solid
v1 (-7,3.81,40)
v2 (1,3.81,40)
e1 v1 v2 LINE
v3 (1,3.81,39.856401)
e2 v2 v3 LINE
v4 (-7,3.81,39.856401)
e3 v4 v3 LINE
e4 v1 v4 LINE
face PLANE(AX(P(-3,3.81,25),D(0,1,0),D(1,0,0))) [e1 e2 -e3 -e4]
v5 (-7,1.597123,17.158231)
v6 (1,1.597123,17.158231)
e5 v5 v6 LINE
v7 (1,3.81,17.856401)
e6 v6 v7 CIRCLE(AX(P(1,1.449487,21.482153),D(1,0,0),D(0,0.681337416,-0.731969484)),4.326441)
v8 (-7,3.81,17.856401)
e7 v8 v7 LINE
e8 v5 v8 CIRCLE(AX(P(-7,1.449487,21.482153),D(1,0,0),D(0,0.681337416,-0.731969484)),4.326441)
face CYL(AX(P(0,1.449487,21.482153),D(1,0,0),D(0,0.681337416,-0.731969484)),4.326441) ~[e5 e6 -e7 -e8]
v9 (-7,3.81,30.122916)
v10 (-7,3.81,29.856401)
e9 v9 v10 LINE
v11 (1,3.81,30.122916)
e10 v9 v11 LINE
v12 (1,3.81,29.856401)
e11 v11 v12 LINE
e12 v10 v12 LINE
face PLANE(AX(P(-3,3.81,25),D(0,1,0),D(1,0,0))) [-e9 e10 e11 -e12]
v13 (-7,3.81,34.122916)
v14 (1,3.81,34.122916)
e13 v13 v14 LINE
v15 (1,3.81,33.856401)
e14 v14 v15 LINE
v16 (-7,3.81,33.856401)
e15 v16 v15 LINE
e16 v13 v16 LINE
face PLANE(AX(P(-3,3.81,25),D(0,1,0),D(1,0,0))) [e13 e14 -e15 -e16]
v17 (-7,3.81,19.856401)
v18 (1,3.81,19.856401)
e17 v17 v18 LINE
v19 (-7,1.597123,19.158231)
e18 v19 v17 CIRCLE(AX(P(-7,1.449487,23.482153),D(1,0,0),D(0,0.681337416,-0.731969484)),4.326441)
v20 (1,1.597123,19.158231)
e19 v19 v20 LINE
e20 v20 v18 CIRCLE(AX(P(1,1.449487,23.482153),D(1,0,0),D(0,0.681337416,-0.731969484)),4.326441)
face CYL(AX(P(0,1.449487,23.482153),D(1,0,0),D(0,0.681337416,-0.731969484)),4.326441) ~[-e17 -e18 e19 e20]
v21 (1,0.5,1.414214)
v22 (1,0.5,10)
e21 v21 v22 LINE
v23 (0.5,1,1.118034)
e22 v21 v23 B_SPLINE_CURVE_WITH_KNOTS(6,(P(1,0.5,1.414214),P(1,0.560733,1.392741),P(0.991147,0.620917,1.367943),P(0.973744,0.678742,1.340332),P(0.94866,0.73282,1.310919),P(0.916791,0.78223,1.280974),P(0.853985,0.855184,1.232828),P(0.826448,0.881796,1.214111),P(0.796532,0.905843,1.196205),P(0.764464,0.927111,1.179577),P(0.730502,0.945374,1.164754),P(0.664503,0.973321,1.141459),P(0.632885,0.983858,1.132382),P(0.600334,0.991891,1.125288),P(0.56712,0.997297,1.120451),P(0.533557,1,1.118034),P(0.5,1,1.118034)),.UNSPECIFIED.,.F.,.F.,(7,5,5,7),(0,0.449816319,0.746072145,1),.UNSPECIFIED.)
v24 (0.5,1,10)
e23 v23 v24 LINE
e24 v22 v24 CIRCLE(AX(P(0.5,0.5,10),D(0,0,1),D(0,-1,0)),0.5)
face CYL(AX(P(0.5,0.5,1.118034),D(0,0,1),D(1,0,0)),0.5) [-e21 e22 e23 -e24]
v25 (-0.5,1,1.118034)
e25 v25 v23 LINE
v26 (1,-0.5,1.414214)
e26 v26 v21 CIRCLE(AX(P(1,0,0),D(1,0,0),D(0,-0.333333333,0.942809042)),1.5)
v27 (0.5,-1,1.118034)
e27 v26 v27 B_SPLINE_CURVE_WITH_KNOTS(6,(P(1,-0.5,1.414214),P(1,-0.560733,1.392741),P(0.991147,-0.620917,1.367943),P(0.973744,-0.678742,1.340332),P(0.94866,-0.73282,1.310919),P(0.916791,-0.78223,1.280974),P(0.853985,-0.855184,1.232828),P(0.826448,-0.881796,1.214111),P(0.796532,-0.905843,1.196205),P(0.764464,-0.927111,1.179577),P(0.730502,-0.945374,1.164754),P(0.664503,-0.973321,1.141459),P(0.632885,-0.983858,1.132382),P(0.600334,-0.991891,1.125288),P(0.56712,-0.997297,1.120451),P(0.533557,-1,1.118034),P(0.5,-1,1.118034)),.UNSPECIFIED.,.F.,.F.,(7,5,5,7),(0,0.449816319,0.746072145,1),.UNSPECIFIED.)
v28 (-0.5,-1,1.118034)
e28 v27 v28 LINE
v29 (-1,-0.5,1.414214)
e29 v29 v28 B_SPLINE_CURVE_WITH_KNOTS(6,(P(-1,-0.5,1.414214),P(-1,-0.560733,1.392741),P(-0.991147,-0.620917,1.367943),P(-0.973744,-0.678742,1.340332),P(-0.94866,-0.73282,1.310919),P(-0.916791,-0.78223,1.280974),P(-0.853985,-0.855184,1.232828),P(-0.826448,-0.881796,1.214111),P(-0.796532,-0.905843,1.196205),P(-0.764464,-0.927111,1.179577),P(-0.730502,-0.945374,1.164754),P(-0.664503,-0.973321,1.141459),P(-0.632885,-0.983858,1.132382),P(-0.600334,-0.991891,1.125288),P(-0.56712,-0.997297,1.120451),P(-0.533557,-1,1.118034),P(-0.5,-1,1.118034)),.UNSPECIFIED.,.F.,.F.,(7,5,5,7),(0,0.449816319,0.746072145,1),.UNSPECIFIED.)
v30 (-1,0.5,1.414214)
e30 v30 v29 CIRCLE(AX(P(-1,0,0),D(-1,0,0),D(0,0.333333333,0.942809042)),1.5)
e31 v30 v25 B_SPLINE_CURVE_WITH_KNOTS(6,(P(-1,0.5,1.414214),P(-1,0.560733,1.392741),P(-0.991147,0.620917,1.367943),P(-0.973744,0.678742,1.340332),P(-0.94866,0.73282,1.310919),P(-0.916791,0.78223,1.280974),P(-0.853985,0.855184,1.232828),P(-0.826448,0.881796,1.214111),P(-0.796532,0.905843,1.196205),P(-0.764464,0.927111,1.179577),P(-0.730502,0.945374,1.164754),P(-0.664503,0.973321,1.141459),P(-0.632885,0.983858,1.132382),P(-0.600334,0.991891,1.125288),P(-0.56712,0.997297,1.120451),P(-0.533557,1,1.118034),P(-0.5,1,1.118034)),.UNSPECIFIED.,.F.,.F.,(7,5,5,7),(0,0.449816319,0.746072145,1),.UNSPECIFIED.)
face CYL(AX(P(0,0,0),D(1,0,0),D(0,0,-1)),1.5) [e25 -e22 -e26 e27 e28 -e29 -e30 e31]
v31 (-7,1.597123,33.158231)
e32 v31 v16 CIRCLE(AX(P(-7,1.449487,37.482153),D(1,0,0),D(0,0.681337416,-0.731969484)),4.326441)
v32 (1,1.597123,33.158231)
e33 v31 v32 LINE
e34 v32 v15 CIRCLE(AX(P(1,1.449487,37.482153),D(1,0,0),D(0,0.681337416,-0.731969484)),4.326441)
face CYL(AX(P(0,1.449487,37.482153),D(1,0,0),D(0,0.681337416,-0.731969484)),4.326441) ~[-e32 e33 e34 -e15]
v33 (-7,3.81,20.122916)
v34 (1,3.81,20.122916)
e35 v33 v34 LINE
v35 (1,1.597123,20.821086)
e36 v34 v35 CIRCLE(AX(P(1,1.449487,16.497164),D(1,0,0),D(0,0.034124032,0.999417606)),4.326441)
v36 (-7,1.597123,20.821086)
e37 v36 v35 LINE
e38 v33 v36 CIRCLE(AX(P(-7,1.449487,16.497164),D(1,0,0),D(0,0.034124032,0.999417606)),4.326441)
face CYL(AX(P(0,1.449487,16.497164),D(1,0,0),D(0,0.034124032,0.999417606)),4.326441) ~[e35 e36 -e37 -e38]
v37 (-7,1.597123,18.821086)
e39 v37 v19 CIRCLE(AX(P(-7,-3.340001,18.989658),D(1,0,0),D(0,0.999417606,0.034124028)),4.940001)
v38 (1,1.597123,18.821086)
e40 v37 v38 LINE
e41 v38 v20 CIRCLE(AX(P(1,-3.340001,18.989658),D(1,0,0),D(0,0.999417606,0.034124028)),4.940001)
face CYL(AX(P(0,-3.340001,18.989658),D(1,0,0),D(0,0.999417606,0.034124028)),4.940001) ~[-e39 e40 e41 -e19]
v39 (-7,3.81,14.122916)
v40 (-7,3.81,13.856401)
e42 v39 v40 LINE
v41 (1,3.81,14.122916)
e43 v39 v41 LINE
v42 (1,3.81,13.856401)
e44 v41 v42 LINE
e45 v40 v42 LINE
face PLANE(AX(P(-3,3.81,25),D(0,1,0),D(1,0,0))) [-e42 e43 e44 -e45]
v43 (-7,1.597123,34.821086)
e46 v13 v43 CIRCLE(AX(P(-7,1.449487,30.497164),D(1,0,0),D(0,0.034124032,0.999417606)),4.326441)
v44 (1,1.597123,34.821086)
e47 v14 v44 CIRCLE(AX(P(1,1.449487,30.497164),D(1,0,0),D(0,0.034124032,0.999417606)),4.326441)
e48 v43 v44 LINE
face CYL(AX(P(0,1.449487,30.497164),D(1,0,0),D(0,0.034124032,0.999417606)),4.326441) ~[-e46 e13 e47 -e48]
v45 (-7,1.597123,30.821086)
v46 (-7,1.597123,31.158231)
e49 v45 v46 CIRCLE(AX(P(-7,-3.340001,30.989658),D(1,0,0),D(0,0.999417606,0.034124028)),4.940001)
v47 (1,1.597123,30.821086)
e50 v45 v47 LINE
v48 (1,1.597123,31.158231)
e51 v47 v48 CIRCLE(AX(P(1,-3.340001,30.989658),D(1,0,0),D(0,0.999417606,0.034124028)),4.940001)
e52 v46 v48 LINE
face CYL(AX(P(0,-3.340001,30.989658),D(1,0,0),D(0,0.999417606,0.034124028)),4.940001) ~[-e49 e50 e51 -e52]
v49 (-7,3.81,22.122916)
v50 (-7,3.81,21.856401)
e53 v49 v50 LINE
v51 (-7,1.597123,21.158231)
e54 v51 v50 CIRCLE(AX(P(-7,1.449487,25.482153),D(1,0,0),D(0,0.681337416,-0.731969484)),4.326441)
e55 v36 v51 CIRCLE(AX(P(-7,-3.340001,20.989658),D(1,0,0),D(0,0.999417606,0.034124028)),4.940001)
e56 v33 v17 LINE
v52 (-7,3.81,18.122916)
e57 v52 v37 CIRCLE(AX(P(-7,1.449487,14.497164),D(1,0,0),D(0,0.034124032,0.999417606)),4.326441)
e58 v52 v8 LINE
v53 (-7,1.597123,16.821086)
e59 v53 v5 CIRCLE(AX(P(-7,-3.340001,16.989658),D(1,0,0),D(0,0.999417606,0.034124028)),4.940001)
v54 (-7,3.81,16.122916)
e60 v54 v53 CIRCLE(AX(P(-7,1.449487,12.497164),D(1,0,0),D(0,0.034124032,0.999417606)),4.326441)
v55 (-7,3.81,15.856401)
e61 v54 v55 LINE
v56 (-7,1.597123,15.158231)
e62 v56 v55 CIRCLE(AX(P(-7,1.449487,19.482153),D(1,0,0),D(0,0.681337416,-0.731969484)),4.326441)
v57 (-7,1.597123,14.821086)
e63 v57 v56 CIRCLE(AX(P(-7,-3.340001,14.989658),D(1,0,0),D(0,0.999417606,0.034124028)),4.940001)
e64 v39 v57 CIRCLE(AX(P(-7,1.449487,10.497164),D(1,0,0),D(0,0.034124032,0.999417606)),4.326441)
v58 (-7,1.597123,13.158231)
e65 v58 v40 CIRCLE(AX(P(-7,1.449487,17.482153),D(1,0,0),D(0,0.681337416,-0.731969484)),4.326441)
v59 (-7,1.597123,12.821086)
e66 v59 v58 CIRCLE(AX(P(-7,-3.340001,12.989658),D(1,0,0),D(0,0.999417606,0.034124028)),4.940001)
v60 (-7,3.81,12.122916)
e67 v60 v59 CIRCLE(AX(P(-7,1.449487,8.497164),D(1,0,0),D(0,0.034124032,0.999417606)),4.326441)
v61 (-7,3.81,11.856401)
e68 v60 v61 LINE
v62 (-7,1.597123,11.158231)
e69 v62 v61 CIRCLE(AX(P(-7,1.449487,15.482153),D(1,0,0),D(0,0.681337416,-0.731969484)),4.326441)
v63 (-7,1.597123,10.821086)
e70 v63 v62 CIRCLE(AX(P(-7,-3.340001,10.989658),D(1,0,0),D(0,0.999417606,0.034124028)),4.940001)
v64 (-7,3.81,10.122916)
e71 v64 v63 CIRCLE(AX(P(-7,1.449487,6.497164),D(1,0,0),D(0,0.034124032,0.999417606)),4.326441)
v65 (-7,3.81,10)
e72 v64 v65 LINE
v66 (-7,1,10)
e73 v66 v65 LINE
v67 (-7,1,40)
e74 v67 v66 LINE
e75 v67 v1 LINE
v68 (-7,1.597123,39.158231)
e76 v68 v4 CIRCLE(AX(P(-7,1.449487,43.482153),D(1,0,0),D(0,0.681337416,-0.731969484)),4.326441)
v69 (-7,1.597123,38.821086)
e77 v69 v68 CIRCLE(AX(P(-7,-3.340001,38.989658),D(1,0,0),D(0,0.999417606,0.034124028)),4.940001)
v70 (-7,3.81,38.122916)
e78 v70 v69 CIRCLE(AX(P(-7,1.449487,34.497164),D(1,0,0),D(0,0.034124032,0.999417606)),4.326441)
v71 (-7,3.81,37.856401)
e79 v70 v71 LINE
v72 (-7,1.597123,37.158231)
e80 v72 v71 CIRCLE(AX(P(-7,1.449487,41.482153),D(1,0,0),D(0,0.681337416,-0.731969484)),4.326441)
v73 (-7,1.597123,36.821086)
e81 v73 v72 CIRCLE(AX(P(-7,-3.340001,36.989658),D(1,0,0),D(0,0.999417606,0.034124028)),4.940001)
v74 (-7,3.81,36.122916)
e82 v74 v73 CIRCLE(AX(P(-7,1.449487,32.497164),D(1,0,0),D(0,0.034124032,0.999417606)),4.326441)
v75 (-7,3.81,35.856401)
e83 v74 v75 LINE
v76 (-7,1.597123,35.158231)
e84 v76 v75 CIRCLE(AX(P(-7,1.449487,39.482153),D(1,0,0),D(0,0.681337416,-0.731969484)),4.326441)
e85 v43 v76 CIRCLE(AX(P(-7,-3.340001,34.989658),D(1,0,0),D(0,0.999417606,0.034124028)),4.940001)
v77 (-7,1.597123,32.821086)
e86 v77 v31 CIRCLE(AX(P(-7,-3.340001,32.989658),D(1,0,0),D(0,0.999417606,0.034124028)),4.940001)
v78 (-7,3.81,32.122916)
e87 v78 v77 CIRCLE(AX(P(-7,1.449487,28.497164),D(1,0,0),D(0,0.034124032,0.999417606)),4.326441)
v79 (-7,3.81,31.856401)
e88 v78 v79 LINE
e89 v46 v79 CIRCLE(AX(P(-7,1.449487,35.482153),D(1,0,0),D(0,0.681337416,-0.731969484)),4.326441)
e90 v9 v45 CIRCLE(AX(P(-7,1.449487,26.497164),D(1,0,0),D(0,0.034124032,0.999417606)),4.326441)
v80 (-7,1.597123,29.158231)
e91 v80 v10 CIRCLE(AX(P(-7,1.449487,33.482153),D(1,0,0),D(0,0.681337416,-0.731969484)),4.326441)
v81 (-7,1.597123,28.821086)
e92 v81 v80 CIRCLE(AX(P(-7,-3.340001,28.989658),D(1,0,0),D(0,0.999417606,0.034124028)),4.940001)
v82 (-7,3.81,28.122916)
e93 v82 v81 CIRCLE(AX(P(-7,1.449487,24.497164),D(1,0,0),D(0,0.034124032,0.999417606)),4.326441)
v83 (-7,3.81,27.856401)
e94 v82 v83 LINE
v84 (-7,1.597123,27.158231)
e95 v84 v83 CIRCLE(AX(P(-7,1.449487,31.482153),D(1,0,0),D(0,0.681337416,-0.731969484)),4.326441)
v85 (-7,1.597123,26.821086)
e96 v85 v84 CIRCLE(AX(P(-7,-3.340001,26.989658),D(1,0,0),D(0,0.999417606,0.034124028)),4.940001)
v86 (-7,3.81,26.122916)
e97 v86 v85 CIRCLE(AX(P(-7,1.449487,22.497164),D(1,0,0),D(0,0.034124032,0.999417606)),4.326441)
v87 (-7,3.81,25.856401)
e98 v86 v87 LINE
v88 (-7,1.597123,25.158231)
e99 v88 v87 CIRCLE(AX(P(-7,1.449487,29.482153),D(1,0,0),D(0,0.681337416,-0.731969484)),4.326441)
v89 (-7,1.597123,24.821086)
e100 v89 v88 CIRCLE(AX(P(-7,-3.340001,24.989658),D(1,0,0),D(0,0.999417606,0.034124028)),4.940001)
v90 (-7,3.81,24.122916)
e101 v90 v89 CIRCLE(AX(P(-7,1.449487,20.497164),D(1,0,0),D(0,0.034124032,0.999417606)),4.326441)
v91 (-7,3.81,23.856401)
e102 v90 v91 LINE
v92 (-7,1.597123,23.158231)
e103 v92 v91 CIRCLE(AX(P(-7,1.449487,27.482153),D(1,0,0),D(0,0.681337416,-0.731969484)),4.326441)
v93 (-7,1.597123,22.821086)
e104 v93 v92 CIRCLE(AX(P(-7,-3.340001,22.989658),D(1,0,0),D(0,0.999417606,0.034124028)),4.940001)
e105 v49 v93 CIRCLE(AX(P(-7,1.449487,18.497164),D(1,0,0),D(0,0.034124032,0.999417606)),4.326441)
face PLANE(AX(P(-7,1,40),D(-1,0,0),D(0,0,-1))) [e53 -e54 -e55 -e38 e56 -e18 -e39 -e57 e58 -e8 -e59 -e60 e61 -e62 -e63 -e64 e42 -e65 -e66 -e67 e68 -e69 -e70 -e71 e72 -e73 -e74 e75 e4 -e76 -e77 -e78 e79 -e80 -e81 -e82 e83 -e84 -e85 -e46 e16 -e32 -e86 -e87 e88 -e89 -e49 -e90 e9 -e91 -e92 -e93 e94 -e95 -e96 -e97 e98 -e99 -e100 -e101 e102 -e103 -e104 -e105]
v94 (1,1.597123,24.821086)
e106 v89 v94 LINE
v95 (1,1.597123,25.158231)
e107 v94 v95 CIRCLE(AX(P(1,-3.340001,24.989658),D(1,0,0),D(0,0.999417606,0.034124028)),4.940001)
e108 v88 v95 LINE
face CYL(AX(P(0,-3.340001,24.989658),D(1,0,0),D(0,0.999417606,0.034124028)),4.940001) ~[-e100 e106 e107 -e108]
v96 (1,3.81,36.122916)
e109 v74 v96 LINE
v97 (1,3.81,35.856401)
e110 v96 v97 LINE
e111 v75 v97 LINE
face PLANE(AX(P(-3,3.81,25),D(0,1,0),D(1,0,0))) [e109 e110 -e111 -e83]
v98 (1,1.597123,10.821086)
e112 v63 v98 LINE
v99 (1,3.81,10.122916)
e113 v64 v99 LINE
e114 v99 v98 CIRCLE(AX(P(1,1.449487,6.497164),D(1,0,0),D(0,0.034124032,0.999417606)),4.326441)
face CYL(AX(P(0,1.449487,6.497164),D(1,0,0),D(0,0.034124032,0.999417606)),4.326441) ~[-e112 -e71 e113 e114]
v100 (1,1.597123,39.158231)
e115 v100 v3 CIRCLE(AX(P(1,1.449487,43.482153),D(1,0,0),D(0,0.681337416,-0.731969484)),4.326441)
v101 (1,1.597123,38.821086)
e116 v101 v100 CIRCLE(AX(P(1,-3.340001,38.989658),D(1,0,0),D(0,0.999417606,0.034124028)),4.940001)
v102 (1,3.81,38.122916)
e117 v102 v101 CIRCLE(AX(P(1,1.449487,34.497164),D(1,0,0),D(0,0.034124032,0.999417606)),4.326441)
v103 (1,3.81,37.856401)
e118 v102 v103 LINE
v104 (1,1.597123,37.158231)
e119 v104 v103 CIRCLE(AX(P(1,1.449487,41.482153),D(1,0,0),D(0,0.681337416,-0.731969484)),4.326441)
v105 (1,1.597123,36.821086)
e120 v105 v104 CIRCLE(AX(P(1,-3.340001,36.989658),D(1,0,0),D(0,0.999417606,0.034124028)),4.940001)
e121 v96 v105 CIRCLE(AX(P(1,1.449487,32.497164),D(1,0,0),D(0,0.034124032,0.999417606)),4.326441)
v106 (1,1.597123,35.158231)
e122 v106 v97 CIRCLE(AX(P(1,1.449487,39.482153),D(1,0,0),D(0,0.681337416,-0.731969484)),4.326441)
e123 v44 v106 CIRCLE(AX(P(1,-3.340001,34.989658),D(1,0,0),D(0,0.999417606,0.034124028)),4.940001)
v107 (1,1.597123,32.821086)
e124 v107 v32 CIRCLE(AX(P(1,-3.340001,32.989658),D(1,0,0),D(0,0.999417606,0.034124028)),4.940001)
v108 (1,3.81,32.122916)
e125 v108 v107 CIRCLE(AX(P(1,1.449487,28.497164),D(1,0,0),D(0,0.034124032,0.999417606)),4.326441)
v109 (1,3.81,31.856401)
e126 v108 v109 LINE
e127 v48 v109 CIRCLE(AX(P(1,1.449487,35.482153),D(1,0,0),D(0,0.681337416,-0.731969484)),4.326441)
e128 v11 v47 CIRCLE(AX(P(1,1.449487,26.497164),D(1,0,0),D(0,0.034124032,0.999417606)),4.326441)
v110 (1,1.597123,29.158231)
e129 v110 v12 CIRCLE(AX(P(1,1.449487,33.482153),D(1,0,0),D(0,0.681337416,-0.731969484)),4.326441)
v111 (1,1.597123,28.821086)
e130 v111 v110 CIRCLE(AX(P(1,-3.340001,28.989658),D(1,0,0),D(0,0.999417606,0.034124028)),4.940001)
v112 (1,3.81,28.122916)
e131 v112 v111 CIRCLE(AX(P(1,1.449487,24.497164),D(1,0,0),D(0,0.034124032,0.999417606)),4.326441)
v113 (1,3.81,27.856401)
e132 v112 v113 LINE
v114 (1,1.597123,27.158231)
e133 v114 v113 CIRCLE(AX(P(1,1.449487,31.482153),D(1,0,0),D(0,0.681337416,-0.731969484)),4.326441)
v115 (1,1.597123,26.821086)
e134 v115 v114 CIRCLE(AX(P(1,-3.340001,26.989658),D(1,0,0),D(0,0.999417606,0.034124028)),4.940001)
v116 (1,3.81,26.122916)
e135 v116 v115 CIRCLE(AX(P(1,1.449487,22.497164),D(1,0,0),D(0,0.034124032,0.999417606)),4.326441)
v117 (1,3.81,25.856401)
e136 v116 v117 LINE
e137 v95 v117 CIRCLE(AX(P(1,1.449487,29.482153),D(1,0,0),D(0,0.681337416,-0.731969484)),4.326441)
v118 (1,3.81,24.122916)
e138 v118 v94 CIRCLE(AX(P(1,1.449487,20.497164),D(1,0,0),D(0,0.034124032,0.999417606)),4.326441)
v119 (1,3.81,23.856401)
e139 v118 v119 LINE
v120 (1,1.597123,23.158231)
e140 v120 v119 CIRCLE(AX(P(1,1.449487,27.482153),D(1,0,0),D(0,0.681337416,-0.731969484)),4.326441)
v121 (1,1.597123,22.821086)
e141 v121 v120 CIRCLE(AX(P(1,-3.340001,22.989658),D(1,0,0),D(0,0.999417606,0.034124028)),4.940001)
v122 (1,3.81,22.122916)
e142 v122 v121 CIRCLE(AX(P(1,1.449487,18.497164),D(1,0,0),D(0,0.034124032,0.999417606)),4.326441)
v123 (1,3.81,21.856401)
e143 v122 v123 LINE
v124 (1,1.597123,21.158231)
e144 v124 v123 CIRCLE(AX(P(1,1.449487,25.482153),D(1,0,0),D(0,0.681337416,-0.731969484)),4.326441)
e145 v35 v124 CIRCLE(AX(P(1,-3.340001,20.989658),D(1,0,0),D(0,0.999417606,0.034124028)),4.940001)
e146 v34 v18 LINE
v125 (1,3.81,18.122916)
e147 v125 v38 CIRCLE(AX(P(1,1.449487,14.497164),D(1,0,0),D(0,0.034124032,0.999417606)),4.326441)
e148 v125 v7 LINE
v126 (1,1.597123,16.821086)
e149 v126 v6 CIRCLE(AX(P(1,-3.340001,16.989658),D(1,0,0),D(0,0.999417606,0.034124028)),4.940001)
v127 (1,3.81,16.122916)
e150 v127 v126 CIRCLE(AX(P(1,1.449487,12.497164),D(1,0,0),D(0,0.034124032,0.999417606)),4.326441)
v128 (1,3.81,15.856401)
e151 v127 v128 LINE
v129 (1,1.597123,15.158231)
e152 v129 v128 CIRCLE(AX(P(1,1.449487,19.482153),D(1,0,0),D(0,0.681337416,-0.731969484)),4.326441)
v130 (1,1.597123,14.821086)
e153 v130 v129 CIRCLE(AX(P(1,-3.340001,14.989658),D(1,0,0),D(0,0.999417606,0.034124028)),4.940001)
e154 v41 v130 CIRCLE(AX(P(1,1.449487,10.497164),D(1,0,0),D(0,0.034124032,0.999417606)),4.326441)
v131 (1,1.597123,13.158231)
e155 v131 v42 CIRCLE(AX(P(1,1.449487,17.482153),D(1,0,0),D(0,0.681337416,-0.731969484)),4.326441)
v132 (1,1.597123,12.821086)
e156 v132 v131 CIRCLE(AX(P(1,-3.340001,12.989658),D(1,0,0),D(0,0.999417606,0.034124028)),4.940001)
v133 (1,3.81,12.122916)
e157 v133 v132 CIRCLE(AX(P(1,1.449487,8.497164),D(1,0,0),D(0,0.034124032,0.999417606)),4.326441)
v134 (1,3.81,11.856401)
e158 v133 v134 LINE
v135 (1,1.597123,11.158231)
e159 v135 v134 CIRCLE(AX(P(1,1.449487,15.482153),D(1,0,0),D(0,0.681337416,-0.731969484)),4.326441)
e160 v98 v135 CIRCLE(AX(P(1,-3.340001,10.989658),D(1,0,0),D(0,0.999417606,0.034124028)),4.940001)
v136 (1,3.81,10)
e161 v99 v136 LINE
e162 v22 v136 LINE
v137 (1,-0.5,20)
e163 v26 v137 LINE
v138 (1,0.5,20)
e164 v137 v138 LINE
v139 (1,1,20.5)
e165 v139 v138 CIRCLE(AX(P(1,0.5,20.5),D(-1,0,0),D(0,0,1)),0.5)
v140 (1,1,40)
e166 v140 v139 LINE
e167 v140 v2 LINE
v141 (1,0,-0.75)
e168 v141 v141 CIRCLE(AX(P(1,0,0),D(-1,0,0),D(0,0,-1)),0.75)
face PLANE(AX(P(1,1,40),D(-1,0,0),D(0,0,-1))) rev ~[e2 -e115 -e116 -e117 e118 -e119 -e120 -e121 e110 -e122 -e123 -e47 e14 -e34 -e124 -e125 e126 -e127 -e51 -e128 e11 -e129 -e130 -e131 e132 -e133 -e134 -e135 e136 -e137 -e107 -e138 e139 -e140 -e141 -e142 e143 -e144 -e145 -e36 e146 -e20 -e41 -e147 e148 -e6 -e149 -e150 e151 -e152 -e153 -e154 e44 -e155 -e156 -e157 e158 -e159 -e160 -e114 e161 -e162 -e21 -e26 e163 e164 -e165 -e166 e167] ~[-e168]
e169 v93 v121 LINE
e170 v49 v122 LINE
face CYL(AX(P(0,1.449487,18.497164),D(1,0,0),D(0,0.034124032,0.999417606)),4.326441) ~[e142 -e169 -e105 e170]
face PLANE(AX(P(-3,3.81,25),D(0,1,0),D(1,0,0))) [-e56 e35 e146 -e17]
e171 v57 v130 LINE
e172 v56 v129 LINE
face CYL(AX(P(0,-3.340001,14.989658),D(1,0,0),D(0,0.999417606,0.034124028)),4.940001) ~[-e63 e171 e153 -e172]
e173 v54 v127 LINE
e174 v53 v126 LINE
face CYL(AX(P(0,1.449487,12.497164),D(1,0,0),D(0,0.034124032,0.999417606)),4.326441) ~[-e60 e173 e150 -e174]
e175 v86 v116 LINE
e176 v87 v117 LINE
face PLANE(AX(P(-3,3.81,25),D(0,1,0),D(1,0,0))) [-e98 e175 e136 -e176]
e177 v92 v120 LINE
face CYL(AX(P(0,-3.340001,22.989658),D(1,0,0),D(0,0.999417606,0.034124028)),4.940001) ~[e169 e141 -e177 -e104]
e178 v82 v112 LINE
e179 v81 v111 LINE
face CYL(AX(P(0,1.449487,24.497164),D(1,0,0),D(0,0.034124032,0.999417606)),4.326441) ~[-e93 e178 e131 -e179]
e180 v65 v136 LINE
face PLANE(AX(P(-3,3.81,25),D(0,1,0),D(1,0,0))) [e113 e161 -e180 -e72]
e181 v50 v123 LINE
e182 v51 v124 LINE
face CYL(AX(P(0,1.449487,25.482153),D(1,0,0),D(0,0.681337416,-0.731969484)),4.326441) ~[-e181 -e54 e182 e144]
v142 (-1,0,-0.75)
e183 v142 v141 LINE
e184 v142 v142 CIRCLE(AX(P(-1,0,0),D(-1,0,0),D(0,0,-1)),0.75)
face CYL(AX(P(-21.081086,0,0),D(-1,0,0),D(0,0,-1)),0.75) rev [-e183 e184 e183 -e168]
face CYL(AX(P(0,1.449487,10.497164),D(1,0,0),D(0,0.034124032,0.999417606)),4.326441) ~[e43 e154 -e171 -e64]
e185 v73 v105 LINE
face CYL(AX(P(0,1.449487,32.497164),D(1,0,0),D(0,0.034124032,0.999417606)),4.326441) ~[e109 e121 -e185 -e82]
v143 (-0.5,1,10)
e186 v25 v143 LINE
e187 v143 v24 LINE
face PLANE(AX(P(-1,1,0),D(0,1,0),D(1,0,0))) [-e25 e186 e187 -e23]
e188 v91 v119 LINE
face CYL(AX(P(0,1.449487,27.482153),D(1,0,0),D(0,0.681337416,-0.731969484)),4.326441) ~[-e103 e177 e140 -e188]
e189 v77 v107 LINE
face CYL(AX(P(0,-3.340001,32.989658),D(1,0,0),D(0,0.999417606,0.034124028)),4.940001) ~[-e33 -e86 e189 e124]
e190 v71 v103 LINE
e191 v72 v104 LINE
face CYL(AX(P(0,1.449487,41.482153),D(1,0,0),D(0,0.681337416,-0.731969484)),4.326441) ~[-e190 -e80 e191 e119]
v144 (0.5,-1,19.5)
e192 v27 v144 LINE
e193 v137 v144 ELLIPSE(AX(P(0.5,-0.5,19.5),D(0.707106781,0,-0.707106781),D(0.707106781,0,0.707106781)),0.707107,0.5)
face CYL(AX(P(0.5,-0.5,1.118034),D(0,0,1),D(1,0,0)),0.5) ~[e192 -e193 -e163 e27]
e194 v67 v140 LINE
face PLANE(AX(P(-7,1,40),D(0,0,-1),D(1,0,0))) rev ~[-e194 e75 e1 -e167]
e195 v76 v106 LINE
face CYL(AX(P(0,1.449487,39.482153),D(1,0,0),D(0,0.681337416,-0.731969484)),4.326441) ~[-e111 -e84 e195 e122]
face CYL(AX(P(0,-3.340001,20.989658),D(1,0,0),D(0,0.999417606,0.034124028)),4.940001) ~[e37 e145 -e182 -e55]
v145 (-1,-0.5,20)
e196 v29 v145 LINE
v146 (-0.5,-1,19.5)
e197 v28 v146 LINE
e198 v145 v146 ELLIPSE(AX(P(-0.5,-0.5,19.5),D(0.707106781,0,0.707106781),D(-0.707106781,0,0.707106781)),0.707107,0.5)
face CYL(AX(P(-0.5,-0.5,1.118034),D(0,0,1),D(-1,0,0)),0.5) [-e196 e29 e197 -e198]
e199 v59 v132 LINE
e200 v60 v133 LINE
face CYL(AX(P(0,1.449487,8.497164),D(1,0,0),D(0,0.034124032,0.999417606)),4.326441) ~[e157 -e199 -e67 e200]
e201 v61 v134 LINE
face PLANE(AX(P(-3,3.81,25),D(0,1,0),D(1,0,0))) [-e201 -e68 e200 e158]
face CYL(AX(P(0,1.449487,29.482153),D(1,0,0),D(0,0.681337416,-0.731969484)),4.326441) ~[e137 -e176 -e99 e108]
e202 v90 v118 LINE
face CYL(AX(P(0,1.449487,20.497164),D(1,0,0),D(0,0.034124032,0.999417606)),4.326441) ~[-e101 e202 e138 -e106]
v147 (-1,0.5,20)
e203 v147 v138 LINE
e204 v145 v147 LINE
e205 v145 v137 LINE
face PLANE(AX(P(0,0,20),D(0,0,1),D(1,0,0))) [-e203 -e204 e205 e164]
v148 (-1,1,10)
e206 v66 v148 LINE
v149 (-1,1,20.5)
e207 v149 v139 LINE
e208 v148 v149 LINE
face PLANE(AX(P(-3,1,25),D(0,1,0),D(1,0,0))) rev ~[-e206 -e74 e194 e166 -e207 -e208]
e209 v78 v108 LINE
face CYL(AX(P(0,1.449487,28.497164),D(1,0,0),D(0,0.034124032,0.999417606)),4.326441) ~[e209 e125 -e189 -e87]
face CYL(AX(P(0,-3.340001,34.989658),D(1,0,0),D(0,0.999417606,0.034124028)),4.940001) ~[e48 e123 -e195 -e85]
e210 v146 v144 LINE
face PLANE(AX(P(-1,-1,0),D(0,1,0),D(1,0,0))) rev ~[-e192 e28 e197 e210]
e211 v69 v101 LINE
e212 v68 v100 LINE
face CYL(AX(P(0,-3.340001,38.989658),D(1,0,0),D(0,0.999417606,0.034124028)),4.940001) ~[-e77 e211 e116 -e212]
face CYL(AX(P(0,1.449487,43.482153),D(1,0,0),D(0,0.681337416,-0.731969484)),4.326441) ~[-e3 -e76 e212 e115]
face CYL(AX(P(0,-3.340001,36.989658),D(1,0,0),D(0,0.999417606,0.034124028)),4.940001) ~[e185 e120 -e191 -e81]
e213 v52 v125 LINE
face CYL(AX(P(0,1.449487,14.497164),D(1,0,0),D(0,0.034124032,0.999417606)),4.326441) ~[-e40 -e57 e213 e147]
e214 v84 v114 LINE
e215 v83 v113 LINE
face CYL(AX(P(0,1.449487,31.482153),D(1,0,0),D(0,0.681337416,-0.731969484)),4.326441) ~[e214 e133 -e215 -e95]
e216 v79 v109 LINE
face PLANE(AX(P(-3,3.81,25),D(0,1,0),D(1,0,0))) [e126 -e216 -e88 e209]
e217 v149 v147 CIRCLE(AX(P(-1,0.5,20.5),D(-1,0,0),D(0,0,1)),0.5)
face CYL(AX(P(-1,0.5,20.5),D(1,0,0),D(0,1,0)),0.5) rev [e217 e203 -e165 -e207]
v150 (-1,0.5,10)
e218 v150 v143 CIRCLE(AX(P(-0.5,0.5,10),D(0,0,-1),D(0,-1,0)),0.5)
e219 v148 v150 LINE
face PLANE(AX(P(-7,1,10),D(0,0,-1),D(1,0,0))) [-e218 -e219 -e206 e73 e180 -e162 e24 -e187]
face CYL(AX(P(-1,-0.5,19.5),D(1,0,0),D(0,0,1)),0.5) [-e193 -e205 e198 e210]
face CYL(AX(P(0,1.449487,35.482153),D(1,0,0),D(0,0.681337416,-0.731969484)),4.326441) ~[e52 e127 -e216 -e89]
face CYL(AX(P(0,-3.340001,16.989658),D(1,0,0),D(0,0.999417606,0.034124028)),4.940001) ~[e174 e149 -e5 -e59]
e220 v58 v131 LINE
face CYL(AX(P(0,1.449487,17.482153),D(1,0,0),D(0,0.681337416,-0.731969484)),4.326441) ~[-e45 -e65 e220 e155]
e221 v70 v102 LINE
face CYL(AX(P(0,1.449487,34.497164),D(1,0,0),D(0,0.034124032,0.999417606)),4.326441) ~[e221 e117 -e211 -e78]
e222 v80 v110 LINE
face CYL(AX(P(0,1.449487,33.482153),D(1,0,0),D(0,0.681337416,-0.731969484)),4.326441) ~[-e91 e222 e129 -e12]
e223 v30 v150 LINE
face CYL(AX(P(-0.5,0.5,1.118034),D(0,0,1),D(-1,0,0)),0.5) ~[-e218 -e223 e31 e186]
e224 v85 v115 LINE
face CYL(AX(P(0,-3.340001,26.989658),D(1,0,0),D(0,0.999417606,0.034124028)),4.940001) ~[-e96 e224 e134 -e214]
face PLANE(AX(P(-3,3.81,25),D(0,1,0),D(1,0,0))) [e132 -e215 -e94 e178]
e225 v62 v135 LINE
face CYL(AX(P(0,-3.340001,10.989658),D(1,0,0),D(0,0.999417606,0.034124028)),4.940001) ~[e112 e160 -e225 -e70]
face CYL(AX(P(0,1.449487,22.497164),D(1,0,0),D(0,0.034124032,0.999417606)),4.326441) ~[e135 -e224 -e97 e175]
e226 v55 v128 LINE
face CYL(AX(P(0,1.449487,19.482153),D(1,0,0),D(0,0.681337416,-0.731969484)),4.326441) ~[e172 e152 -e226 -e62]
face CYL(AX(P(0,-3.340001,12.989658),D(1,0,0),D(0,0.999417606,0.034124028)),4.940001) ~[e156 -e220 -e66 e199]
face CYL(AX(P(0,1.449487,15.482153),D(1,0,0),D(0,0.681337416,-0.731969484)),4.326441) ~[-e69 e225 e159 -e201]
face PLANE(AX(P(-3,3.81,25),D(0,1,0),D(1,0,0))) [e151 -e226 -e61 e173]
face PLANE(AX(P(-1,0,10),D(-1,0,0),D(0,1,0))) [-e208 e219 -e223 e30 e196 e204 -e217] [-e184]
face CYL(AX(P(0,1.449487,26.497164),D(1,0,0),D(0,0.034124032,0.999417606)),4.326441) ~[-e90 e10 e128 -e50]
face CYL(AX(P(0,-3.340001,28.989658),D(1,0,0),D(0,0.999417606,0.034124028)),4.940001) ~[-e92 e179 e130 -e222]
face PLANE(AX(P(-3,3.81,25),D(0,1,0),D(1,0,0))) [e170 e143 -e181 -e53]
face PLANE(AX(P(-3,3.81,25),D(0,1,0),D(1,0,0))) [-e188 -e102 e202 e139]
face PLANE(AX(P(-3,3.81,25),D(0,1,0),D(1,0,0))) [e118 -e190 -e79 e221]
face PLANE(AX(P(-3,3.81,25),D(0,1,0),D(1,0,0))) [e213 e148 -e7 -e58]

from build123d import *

# Parameters (mm, degrees)
SKETCH1_W                       = 2
SKETCH1_H                       = 2
BOSS_EXTRUDE1_DEPTH             = 20
BOSS_EXTRUDE2_REACH             = 22.05
SKETCH2_R                       = 1.5
BOSS_EXTRUDE2_DIRECTION_2_REACH = 22.05
CUT_EXTRUDE1_DEPTH              = 21.081085628
CUT_EXTRUDE1_DEPTH_BACK         = 21.081085628
SKETCH3_R                       = 0.75
SKETCH4_W                       = 8
SKETCH4_H                       = 30
BOSS_EXTRUDE4_DEPTH             = 2.81
CUT_EXTRUDE3_DEPTH              = 41.78622439
LPATTERN1_COUNT                 = 14
LPATTERN1_PITCH                 = 2
LPATTERN1_COL_COUNT             = 2
LPATTERN1_COL_PITCH             = 2
FILLET2_R                       = 0.5


with BuildPart() as part:
    # Sketch1 → Boss-Extrude1 (new body)
    with BuildSketch(Plane.XY):
        Rectangle(SKETCH1_W, SKETCH1_H)
    extrude(amount=BOSS_EXTRUDE1_DEPTH)

    # Boss-Extrude2: up to this face of the body (flat: up to its plane)
    boss_extrude2_end = Plane(part.part.faces().sort_by_distance((1, 0, 10))[0])
    # Sketch2 → Boss-Extrude2 (add, up to the picked face)
    with BuildSketch(Plane(origin=(0, 0, 0), x_dir=(0, 0, -1), z_dir=(1, 0, 0)), mode=Mode.PRIVATE) as boss_extrude2_sk1:
        Circle(SKETCH2_R)
    boss_extrude2_tool1 = split(extrude(boss_extrude2_sk1.sketch, amount=BOSS_EXTRUDE2_REACH, mode=Mode.PRIVATE), bisect_by=boss_extrude2_end, keep=Keep.BOTH, mode=Mode.PRIVATE)
    add(boss_extrude2_tool1.solids().sort_by(Axis((0, 0, 0), (1, 0, 0)))[0])

    # Boss-Extrude2 direction 2: up to this face of the body (flat: up to its plane)
    boss_extrude2_direction_2_end = Plane(part.part.faces().sort_by_distance((-1, 0, 10))[0])
    # Sketch2 → Boss-Extrude2 direction 2 (add, up to the picked face)
    with BuildSketch(Plane(origin=(0, 0, 0), x_dir=(0, 0, -1), z_dir=(1, 0, 0)), mode=Mode.PRIVATE) as boss_extrude2_direction_2_sk1:
        Circle(SKETCH2_R)
    boss_extrude2_direction_2_tool1 = split(extrude(boss_extrude2_direction_2_sk1.sketch, amount=-BOSS_EXTRUDE2_DIRECTION_2_REACH, mode=Mode.PRIVATE), bisect_by=boss_extrude2_direction_2_end, keep=Keep.BOTH, mode=Mode.PRIVATE)
    add(boss_extrude2_direction_2_tool1.solids().sort_by(Axis((0, 0, 0), (-1, 0, 0)))[0])

    # Sketch3 → Cut-Extrude1 (cut, two sides: drawn at the far end of the back side and taken through both)
    with BuildSketch(Plane(origin=(0, 0, 0), x_dir=(0, 0, -1), z_dir=(1, 0, 0)).offset(-CUT_EXTRUDE1_DEPTH_BACK)):
        Circle(SKETCH3_R)
    extrude(amount=CUT_EXTRUDE1_DEPTH + CUT_EXTRUDE1_DEPTH_BACK, mode=Mode.SUBTRACT)

    # Sketch4 → Boss-Extrude4 (add)
    with BuildSketch(Plane(origin=(0, 1, 0), x_dir=(1, 0, 0), z_dir=(0, 1, 0))):
        with Locations((-3, -25)):
            Rectangle(SKETCH4_W, SKETCH4_H)
    extrude(amount=BOSS_EXTRUDE4_DEPTH)

    # Sketch9 → Cut-Extrude3 (cut, symmetric)
    with BuildSketch(Plane(origin=(0, 0, 0), x_dir=(0, 0, -1), z_dir=(1, 0, 0))):
        with BuildLine():
            ThreePointArc((-38.315329673, 4.397253742), (-37.483653354, 3.101788083), (-37.158231048, 1.597122972))
            ThreePointArc((-37.158231048, 1.597122972), (-36.989658323, 1.6), (-36.821085598, 1.597122972))
            ThreePointArc((-36.821085598, 1.597122972), (-36.495663293, 3.101788083), (-35.663986973, 4.397253742))
            ThreePointArc((-35.663986973, 4.397253742), (-36.989658323, 4.51), (-38.315329673, 4.397253742))
        make_face()
    cut_extrude3 = extrude(amount=CUT_EXTRUDE3_DEPTH, both=True, mode=Mode.SUBTRACT)

    # LPattern1: Cut-Extrude3 ×14
    with Locations(*[(0, 0, -i * LPATTERN1_PITCH) for i in range(1, LPATTERN1_COUNT)]):
        add(cut_extrude3, mode=Mode.SUBTRACT)

    # LPattern1 col: Cut-Extrude3 ×2
    with Locations(*[(0, 0, i * LPATTERN1_COL_PITCH) for i in range(1, LPATTERN1_COL_COUNT)]):
        add(cut_extrude3, mode=Mode.SUBTRACT)

    # Fillet2
    fillet2_edges = [part.edges().sort_by_distance(p)[0] for p in [
        (-1, -1, 10.559016994),
        (1, -1, 10.559016994),
        (1, 1, 5.559016994),
        (-1, 1, 5.559016994),
        (0, -1, 20),
        (0, 1, 20),
    ]]
    fillet(fillet2_edges, radius=FILLET2_R)


solid = part.part
